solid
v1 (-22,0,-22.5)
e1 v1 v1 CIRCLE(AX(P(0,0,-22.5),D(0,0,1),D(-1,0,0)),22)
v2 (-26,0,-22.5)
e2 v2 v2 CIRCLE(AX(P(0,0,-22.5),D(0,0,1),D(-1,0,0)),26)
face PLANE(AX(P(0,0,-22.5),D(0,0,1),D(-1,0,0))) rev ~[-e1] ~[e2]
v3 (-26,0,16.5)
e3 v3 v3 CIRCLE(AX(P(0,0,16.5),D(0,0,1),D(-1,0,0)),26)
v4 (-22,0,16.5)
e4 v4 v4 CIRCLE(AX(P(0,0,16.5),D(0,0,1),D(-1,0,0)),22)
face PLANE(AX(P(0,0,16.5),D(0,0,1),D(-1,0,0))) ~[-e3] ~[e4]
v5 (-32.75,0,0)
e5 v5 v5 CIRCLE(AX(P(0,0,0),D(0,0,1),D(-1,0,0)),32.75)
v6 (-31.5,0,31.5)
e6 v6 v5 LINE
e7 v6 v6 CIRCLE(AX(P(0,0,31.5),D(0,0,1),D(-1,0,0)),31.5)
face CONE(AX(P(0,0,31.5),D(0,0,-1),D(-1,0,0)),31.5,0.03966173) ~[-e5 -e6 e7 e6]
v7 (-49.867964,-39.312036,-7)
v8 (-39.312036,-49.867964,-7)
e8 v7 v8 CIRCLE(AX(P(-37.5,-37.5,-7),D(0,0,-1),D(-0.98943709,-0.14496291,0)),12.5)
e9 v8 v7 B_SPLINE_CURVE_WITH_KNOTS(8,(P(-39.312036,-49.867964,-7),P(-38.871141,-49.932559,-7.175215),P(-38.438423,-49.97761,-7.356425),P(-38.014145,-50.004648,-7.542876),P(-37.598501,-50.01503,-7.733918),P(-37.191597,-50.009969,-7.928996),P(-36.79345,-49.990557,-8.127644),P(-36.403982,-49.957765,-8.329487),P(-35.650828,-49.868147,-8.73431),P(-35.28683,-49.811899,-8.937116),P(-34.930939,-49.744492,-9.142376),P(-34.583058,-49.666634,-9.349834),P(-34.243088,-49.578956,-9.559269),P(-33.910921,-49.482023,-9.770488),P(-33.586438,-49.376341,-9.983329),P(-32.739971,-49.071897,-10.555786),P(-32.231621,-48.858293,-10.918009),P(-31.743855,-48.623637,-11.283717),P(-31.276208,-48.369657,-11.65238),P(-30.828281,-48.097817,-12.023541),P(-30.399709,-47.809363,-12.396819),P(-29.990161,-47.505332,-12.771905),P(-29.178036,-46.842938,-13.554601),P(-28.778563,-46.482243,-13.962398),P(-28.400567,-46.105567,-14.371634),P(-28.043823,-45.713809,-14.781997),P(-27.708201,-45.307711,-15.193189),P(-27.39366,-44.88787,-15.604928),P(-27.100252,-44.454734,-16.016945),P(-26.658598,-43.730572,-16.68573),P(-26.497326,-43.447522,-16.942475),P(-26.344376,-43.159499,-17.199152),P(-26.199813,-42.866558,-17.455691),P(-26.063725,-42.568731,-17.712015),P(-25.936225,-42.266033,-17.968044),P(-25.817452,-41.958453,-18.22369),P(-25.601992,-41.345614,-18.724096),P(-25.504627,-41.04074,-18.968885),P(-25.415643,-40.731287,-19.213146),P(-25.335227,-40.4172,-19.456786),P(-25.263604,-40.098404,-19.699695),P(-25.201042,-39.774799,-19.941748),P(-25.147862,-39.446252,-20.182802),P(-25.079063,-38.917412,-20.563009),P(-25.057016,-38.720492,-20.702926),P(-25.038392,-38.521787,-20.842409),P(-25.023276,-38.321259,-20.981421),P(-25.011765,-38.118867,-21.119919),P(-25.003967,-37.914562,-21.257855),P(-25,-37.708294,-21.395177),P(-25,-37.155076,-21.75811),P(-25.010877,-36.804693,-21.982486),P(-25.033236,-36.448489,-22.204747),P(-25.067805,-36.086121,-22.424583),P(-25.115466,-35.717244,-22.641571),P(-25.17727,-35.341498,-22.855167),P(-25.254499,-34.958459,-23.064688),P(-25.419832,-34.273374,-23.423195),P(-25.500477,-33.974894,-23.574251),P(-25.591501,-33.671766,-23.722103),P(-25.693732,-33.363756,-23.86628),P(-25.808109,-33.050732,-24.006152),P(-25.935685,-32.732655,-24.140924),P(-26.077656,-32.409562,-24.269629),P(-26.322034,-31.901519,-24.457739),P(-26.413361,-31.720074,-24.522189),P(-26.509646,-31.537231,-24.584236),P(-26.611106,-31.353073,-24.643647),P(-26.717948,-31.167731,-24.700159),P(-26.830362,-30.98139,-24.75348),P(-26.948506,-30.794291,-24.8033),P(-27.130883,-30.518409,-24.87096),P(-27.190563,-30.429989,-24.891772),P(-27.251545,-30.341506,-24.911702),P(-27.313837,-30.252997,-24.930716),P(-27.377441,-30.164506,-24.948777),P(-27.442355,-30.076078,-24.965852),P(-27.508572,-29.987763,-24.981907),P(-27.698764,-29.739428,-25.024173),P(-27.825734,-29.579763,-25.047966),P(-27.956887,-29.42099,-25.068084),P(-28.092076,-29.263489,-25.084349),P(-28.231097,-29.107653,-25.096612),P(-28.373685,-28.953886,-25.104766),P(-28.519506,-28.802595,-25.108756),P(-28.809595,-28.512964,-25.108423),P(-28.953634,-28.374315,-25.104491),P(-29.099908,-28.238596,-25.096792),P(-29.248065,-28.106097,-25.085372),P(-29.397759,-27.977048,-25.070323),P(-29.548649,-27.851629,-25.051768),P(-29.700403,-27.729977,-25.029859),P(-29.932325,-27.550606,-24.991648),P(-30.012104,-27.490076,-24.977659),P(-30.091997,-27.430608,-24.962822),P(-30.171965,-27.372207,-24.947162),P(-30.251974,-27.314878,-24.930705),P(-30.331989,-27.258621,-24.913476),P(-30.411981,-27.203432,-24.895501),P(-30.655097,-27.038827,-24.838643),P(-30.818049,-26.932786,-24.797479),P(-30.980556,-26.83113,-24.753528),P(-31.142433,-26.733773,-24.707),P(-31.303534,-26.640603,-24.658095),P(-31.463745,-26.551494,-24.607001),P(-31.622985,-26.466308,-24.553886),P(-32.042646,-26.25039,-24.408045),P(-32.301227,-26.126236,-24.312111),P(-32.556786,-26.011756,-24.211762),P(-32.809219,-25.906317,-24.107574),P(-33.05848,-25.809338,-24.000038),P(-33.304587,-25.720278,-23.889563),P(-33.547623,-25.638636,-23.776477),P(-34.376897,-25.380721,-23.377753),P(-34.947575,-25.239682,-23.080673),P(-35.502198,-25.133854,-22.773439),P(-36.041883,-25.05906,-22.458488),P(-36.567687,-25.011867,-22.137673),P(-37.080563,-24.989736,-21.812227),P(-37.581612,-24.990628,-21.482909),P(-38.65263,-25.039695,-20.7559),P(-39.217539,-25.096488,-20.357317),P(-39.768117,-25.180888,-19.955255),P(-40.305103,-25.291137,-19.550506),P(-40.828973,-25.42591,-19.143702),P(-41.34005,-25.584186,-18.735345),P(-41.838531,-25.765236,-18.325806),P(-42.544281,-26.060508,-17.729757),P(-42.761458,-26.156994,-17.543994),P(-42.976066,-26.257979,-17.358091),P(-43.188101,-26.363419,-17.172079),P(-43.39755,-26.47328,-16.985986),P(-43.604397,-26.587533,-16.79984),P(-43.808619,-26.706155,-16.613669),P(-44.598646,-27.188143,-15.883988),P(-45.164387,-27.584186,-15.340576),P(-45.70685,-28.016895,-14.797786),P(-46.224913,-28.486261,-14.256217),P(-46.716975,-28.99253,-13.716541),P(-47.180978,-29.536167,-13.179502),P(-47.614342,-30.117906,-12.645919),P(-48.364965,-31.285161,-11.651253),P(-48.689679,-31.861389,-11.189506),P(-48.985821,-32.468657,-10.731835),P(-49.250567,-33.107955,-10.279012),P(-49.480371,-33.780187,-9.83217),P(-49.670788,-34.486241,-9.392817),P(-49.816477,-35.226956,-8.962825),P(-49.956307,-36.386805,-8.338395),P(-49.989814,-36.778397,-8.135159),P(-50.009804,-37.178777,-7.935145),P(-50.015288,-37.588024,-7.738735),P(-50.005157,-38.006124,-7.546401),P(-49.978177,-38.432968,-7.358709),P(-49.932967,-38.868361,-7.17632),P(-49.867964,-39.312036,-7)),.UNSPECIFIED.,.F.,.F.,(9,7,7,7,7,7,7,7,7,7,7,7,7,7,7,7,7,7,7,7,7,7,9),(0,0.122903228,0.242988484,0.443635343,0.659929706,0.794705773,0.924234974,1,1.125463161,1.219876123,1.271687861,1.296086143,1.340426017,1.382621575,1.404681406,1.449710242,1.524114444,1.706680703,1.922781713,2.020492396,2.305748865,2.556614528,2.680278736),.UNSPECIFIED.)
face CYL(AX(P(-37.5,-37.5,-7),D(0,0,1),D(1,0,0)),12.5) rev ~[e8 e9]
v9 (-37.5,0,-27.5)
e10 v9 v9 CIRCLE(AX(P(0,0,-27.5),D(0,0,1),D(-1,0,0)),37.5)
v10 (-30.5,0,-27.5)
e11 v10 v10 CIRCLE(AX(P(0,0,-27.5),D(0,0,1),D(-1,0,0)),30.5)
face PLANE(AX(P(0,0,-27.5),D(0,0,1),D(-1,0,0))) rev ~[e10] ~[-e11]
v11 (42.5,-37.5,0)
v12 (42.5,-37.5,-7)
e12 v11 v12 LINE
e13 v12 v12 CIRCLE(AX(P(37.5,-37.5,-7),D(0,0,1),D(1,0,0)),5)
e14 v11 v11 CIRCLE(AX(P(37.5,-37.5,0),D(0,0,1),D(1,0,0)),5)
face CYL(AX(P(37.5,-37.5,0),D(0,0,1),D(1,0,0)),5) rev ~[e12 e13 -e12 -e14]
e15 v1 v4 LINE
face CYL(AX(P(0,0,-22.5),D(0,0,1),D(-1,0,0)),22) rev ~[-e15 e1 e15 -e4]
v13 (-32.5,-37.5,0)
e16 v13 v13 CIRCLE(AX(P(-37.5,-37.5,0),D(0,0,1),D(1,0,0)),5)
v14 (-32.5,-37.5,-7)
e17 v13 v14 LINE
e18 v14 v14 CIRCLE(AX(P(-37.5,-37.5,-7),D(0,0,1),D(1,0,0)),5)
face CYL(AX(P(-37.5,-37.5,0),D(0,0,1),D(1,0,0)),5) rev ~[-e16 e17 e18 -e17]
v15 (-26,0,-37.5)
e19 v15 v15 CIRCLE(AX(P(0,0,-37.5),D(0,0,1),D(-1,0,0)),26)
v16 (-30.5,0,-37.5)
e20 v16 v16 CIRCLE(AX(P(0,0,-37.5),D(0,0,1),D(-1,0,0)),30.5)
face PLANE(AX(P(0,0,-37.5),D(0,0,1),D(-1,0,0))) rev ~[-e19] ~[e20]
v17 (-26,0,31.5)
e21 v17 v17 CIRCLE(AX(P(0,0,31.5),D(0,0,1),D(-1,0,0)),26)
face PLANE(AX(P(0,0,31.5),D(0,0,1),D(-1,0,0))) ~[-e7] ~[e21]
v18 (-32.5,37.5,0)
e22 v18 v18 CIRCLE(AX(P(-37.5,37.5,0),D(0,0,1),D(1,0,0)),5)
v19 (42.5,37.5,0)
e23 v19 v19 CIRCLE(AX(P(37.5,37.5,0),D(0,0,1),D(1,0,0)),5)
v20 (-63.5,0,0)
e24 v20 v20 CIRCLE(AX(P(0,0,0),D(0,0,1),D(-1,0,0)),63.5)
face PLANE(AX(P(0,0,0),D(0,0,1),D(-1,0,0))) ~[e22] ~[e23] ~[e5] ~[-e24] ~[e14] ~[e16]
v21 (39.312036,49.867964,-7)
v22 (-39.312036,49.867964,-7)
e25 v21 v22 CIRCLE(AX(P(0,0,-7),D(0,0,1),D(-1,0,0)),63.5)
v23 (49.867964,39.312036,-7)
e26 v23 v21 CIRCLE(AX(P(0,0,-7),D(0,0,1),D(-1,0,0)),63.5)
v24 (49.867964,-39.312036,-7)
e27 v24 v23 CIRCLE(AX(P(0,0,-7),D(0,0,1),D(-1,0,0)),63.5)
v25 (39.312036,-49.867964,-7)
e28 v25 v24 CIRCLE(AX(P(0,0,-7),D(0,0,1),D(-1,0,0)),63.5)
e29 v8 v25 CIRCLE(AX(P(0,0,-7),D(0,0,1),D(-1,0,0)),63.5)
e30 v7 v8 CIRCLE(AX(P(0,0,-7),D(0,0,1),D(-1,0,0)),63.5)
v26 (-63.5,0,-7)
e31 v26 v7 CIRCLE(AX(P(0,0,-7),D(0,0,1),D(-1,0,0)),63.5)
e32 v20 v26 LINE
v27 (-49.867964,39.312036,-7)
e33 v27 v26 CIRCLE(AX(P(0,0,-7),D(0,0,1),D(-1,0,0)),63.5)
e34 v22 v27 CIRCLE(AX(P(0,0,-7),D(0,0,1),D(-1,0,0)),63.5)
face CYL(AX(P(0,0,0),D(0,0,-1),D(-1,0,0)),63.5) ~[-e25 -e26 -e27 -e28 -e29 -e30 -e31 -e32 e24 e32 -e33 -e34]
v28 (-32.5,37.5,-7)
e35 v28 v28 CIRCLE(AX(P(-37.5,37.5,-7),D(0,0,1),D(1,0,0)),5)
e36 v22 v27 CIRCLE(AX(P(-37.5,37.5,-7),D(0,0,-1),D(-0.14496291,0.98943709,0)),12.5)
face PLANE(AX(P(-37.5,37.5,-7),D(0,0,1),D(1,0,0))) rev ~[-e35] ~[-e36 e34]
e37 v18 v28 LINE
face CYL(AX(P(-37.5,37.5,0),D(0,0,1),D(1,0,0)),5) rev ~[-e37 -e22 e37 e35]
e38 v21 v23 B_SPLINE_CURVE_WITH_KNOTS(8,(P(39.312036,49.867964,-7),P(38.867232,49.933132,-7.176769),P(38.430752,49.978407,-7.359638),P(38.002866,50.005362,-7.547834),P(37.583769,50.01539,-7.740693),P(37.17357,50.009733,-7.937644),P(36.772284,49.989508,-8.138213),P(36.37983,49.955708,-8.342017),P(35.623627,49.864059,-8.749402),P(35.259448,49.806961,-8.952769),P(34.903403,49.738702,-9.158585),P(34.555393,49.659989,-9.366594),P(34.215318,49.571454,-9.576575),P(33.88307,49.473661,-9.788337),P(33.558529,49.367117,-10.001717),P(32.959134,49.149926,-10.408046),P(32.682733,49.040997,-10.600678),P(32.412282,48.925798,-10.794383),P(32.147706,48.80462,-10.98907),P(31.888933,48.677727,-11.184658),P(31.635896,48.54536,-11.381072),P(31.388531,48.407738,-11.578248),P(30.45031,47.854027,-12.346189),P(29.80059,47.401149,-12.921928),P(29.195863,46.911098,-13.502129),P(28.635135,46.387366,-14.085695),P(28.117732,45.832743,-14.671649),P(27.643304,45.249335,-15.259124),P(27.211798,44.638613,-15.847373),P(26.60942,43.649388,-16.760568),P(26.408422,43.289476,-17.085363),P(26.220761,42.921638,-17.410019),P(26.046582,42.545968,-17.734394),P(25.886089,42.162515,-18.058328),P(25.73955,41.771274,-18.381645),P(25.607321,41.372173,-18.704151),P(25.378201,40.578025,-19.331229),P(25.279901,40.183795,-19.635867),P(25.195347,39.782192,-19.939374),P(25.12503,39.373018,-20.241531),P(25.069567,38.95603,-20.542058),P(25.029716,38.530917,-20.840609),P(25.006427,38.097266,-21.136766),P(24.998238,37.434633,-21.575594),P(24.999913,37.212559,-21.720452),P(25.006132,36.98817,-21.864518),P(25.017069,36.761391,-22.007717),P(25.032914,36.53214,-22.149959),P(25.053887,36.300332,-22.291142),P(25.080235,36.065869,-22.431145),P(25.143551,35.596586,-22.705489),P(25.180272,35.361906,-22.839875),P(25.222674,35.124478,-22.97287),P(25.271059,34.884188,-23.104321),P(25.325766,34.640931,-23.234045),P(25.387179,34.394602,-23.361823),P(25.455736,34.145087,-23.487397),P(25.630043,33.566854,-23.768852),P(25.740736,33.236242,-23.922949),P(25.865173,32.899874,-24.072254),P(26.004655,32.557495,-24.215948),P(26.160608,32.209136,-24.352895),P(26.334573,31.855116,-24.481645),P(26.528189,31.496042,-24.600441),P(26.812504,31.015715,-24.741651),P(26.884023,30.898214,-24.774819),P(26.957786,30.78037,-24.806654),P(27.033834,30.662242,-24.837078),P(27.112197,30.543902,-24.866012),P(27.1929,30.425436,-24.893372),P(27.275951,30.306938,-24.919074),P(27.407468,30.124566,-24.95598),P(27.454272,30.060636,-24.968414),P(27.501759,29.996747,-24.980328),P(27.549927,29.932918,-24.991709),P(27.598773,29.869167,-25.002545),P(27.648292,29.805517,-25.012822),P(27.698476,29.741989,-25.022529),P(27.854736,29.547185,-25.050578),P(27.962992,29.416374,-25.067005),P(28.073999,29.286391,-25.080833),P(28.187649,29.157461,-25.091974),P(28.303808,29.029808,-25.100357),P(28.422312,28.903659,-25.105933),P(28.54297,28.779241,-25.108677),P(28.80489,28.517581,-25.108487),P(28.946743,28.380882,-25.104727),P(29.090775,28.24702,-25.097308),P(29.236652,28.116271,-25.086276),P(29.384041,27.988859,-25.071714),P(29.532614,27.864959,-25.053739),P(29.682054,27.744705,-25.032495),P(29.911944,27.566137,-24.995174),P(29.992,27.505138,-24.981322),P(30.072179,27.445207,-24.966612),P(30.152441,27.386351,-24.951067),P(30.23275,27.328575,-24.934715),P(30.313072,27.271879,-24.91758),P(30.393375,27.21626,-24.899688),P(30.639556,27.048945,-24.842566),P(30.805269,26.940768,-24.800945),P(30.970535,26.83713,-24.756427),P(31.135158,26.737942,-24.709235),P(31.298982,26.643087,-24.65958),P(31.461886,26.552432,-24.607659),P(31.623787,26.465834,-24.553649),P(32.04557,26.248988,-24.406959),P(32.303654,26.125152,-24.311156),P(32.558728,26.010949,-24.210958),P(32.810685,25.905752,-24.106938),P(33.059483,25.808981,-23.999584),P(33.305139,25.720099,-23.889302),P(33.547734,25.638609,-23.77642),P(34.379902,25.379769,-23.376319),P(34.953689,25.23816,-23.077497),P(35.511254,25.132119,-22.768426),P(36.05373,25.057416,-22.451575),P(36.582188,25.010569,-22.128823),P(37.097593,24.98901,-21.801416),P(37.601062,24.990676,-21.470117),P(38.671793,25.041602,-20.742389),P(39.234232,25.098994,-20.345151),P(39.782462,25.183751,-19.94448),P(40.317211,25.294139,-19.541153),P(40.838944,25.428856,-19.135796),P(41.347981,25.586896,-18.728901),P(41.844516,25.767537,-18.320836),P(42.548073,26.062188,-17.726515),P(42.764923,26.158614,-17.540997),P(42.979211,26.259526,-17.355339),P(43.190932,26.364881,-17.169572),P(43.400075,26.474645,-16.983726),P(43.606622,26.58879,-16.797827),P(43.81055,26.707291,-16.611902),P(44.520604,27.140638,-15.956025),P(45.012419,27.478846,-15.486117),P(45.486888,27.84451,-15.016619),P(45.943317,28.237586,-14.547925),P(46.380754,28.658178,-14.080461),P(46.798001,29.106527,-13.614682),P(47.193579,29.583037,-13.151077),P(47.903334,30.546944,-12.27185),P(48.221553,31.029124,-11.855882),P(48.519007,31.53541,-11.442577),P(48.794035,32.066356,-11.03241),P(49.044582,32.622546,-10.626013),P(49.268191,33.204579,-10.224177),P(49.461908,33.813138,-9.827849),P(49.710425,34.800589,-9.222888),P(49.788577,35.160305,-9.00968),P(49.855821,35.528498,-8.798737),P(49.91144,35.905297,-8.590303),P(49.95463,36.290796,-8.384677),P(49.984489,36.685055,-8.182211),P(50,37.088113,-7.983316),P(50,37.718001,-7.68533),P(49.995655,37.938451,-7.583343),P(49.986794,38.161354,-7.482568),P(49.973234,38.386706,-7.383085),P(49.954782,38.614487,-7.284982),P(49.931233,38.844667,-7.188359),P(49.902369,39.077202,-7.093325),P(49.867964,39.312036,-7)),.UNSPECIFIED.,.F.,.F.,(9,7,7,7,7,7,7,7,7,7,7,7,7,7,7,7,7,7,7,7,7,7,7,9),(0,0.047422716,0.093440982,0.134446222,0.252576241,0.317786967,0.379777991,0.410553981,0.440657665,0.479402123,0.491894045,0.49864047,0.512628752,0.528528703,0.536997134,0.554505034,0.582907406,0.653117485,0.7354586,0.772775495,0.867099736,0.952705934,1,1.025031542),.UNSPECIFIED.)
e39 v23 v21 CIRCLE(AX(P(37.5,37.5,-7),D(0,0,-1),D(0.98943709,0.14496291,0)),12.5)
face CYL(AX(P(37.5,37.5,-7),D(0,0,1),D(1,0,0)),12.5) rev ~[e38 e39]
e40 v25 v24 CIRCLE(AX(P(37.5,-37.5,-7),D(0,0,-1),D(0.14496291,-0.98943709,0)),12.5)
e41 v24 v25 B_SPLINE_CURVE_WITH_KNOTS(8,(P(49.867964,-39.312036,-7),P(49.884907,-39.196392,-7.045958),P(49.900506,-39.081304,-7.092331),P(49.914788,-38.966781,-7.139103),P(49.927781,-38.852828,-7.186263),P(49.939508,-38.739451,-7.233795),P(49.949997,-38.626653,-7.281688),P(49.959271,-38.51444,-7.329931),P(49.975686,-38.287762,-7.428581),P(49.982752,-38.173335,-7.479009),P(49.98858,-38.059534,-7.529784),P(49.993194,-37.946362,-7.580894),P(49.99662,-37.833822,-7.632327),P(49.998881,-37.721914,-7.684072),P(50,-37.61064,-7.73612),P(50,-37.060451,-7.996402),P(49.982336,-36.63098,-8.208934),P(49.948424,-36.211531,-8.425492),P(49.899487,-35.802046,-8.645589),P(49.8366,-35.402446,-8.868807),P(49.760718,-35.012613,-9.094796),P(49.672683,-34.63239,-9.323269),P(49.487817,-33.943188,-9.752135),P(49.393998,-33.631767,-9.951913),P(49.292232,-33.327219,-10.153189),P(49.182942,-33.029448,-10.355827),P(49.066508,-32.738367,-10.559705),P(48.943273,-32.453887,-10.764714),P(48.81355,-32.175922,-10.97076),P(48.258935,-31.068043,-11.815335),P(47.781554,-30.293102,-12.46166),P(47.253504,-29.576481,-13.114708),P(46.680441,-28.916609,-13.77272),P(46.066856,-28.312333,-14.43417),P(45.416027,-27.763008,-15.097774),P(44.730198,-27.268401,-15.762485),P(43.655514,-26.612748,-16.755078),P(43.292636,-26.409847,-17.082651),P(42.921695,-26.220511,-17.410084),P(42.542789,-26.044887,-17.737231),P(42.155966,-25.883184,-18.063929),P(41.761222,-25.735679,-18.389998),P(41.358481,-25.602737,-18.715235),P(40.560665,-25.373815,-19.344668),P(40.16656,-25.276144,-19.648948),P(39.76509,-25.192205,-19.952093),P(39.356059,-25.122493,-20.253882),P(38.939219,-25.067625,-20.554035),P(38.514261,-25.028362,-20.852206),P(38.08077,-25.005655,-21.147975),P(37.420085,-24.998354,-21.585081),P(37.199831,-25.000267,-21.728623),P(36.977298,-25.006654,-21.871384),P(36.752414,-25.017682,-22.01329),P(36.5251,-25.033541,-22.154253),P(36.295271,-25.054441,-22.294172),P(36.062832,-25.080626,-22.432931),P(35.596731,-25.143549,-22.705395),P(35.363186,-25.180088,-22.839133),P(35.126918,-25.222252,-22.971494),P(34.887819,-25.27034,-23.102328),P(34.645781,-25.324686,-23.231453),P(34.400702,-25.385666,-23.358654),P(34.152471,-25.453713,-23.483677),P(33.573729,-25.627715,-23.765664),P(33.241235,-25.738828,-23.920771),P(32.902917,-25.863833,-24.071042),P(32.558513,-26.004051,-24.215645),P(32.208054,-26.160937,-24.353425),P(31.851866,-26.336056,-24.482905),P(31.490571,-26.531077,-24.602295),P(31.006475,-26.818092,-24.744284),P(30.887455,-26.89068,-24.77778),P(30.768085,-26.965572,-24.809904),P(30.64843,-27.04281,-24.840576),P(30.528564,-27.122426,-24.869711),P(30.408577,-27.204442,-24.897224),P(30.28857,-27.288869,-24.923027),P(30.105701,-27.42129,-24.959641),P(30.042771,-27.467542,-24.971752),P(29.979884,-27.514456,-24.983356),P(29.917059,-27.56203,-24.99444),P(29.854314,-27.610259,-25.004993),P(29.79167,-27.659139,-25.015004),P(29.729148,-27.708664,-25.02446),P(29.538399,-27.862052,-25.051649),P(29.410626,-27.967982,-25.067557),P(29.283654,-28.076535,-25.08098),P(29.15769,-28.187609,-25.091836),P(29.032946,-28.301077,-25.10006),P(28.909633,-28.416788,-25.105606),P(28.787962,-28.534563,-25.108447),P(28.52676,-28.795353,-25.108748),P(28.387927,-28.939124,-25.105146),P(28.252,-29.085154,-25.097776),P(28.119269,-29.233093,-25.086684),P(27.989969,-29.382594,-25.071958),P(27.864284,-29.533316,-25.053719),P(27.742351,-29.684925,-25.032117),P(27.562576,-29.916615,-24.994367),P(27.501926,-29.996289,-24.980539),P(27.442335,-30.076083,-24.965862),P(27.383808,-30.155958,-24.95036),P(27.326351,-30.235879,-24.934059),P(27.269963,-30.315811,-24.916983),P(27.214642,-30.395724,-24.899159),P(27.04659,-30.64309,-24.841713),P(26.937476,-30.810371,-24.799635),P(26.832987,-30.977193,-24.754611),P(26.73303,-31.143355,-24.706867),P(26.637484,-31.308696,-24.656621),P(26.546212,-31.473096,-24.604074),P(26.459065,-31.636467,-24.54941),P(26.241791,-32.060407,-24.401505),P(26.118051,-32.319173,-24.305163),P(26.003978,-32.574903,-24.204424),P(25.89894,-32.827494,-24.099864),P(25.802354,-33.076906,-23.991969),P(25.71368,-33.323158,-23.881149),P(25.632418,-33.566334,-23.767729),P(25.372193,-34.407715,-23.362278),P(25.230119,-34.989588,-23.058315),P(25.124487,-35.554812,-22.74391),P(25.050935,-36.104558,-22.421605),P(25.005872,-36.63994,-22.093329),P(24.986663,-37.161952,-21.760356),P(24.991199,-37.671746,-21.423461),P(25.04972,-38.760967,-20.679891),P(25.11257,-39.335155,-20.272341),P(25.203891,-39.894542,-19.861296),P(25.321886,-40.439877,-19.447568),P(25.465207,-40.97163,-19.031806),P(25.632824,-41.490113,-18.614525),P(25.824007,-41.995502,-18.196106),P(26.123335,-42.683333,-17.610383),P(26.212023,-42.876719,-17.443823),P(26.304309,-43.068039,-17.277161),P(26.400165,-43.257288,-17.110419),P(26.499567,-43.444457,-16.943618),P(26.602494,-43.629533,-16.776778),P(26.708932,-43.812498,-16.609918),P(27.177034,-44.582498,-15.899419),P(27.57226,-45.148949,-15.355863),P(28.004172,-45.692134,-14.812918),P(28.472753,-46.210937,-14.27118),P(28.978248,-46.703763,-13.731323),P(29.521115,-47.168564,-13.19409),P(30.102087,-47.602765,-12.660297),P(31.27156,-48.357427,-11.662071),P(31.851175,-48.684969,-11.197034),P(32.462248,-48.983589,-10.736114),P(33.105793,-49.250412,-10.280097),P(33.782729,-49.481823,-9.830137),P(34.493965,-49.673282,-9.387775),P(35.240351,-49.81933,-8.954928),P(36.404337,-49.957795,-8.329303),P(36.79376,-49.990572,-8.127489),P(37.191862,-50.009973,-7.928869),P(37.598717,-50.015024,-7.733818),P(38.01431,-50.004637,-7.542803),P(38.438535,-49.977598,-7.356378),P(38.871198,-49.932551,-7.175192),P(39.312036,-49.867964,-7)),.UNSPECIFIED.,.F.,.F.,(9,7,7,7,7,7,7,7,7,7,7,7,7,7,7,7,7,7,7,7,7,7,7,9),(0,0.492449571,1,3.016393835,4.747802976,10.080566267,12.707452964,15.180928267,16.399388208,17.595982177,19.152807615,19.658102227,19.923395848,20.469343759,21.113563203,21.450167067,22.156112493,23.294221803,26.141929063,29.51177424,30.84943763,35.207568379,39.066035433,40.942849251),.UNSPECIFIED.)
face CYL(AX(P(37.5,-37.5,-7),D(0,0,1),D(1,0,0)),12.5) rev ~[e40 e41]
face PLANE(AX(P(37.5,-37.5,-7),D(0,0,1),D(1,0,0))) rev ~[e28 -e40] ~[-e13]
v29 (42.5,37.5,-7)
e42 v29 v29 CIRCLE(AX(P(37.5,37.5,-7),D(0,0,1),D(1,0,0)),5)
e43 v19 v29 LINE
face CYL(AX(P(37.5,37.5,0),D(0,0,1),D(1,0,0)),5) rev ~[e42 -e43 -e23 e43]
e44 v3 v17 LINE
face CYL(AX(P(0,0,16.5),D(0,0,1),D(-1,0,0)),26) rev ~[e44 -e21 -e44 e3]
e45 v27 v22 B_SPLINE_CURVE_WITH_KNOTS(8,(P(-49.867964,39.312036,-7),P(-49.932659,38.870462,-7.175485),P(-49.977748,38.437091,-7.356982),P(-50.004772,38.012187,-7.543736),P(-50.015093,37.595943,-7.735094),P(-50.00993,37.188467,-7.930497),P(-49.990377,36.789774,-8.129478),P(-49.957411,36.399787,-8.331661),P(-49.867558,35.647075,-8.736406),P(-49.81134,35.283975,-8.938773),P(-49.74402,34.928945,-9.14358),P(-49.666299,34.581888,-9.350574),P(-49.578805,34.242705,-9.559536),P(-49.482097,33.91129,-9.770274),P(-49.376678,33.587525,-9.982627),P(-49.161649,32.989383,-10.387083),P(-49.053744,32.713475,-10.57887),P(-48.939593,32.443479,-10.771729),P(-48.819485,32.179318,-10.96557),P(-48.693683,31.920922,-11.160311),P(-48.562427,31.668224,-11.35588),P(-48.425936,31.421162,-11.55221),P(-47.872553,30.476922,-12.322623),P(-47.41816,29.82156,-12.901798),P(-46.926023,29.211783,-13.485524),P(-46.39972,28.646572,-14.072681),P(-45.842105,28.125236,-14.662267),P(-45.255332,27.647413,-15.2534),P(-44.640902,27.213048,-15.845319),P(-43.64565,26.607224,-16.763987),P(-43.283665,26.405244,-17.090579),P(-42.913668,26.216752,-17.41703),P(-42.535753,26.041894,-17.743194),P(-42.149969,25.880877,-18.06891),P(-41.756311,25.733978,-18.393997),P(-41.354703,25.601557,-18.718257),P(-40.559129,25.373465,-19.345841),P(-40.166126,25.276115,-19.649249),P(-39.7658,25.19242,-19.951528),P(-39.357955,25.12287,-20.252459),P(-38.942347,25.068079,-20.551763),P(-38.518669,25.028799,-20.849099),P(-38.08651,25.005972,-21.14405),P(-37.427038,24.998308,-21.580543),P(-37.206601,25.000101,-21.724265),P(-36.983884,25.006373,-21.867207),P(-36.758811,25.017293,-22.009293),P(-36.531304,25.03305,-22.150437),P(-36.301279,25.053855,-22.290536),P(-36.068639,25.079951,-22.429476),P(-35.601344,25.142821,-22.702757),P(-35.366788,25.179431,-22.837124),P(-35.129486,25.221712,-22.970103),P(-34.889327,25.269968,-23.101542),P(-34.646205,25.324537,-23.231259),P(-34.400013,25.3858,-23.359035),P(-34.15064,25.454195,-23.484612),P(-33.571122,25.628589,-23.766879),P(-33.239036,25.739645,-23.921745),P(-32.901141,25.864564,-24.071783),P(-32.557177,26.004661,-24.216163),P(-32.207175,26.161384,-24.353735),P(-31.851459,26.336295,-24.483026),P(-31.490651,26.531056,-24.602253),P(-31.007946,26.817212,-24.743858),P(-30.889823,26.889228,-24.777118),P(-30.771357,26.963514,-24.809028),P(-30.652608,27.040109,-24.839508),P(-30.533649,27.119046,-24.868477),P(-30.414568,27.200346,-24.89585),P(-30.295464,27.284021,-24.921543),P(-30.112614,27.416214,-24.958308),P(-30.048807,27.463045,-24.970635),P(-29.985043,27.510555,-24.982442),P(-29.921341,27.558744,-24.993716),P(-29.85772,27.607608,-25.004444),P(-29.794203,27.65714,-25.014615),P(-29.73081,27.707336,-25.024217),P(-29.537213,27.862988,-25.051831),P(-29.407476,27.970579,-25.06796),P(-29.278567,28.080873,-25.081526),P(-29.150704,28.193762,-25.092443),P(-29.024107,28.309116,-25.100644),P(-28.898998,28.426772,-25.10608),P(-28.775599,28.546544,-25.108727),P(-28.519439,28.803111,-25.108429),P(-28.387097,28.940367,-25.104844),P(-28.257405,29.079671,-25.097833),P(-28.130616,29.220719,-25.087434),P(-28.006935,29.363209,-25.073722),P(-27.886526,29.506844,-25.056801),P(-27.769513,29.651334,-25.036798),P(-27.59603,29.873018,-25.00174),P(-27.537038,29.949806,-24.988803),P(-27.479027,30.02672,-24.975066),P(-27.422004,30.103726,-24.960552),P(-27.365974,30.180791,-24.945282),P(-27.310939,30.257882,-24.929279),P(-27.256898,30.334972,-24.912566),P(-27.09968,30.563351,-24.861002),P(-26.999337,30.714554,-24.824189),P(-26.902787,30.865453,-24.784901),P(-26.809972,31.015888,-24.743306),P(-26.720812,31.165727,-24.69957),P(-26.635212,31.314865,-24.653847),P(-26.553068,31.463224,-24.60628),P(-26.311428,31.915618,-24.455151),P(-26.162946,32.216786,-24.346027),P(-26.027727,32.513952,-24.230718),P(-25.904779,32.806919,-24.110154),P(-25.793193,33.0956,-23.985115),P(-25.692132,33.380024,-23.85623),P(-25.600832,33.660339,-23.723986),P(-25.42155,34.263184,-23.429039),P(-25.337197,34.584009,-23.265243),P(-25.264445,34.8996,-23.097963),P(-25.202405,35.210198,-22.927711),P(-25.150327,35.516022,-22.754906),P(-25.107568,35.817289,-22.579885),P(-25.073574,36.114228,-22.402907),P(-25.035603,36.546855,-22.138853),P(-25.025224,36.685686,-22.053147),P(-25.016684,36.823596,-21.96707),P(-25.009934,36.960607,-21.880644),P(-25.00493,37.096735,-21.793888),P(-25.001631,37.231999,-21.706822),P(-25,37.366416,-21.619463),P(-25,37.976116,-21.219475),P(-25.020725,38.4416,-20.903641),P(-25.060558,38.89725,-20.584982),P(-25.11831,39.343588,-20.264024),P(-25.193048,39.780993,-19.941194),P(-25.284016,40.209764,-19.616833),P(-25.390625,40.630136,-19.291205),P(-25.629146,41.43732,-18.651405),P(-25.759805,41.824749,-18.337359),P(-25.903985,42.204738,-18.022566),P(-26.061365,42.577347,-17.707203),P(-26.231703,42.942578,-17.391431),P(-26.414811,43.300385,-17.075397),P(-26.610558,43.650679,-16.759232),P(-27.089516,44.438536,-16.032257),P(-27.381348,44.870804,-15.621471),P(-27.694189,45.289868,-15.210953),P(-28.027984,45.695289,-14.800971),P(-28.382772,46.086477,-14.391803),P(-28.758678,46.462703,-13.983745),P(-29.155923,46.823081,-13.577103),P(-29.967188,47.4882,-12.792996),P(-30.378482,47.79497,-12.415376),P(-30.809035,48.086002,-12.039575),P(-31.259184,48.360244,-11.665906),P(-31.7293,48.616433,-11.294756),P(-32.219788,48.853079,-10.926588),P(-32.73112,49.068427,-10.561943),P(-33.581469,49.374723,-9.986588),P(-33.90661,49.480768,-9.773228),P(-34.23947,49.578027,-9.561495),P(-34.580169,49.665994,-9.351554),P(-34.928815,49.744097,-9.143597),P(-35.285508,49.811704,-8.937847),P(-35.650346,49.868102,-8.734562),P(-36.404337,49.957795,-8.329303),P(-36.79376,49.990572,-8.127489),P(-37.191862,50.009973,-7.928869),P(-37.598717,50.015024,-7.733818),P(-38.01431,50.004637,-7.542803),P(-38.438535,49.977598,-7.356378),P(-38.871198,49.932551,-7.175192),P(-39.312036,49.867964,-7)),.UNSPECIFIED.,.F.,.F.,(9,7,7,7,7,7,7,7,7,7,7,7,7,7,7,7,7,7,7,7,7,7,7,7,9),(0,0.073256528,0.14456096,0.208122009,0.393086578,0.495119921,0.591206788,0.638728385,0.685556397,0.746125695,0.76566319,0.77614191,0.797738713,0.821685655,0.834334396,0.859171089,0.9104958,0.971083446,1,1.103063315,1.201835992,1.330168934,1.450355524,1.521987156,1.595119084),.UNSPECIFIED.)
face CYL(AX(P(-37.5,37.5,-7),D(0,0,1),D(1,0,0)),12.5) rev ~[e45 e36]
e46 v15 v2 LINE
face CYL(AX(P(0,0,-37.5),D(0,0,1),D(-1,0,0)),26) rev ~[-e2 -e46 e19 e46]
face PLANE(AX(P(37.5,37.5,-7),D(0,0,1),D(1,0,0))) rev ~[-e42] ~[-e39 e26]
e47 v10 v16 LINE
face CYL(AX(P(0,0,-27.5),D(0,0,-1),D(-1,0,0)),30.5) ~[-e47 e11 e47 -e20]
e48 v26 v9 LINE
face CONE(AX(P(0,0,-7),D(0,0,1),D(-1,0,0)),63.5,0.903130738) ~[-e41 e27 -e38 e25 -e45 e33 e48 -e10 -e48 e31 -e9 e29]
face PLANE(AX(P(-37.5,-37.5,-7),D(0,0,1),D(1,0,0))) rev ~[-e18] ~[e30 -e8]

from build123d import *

# Parameters (mm, degrees)
F0_R     = 5
F3_DEPTH = 25
F5_R     = 12.5
F6_DEPTH = 25


with BuildPart() as f2:
    # F1 (on Front) → F2 (revolve)
    with BuildSketch(Plane.XZ):
        Polygon((-31.5, 31.5), (-32.75, 0), (-63.5, 0), (-63.5, -7), (-37.5, -27.5), (-30.5, -27.5), (-30.5, -37.5), (-26, -37.5), (-26, -22.5), (-22, -22.5), (-22, 16.5), (-26, 16.5), (-26, 31.5), align=None)
    revolve(axis=Axis((0, 0, 30.379497), (0, 0, 1)))

    # F0 (on Top) → F3 (cut)
    with BuildSketch(Plane.XY):
        with Locations((-37.5, 37.5)):
            Circle(F0_R)
        with Locations((-37.5, -37.5)):
            Circle(F0_R)
        with Locations((37.5, -37.5)):
            Circle(F0_R)
        with Locations((37.5, 37.5)):
            Circle(F0_R)
    extrude(amount=-F3_DEPTH, mode=Mode.SUBTRACT)

    # F5 (on offset) → F6 (cut)
    with BuildSketch(Plane.XY.offset(-7)):
        with Locations((-37.5, 37.5)):
            Circle(F5_R)
        with Locations((37.5, 37.5)):
            Circle(F5_R)
        with Locations((-37.5, -37.5)):
            Circle(F5_R)
        with Locations((37.5, -37.5)):
            Circle(F5_R)
    extrude(amount=-F6_DEPTH, mode=Mode.SUBTRACT)


solid = f2.part
